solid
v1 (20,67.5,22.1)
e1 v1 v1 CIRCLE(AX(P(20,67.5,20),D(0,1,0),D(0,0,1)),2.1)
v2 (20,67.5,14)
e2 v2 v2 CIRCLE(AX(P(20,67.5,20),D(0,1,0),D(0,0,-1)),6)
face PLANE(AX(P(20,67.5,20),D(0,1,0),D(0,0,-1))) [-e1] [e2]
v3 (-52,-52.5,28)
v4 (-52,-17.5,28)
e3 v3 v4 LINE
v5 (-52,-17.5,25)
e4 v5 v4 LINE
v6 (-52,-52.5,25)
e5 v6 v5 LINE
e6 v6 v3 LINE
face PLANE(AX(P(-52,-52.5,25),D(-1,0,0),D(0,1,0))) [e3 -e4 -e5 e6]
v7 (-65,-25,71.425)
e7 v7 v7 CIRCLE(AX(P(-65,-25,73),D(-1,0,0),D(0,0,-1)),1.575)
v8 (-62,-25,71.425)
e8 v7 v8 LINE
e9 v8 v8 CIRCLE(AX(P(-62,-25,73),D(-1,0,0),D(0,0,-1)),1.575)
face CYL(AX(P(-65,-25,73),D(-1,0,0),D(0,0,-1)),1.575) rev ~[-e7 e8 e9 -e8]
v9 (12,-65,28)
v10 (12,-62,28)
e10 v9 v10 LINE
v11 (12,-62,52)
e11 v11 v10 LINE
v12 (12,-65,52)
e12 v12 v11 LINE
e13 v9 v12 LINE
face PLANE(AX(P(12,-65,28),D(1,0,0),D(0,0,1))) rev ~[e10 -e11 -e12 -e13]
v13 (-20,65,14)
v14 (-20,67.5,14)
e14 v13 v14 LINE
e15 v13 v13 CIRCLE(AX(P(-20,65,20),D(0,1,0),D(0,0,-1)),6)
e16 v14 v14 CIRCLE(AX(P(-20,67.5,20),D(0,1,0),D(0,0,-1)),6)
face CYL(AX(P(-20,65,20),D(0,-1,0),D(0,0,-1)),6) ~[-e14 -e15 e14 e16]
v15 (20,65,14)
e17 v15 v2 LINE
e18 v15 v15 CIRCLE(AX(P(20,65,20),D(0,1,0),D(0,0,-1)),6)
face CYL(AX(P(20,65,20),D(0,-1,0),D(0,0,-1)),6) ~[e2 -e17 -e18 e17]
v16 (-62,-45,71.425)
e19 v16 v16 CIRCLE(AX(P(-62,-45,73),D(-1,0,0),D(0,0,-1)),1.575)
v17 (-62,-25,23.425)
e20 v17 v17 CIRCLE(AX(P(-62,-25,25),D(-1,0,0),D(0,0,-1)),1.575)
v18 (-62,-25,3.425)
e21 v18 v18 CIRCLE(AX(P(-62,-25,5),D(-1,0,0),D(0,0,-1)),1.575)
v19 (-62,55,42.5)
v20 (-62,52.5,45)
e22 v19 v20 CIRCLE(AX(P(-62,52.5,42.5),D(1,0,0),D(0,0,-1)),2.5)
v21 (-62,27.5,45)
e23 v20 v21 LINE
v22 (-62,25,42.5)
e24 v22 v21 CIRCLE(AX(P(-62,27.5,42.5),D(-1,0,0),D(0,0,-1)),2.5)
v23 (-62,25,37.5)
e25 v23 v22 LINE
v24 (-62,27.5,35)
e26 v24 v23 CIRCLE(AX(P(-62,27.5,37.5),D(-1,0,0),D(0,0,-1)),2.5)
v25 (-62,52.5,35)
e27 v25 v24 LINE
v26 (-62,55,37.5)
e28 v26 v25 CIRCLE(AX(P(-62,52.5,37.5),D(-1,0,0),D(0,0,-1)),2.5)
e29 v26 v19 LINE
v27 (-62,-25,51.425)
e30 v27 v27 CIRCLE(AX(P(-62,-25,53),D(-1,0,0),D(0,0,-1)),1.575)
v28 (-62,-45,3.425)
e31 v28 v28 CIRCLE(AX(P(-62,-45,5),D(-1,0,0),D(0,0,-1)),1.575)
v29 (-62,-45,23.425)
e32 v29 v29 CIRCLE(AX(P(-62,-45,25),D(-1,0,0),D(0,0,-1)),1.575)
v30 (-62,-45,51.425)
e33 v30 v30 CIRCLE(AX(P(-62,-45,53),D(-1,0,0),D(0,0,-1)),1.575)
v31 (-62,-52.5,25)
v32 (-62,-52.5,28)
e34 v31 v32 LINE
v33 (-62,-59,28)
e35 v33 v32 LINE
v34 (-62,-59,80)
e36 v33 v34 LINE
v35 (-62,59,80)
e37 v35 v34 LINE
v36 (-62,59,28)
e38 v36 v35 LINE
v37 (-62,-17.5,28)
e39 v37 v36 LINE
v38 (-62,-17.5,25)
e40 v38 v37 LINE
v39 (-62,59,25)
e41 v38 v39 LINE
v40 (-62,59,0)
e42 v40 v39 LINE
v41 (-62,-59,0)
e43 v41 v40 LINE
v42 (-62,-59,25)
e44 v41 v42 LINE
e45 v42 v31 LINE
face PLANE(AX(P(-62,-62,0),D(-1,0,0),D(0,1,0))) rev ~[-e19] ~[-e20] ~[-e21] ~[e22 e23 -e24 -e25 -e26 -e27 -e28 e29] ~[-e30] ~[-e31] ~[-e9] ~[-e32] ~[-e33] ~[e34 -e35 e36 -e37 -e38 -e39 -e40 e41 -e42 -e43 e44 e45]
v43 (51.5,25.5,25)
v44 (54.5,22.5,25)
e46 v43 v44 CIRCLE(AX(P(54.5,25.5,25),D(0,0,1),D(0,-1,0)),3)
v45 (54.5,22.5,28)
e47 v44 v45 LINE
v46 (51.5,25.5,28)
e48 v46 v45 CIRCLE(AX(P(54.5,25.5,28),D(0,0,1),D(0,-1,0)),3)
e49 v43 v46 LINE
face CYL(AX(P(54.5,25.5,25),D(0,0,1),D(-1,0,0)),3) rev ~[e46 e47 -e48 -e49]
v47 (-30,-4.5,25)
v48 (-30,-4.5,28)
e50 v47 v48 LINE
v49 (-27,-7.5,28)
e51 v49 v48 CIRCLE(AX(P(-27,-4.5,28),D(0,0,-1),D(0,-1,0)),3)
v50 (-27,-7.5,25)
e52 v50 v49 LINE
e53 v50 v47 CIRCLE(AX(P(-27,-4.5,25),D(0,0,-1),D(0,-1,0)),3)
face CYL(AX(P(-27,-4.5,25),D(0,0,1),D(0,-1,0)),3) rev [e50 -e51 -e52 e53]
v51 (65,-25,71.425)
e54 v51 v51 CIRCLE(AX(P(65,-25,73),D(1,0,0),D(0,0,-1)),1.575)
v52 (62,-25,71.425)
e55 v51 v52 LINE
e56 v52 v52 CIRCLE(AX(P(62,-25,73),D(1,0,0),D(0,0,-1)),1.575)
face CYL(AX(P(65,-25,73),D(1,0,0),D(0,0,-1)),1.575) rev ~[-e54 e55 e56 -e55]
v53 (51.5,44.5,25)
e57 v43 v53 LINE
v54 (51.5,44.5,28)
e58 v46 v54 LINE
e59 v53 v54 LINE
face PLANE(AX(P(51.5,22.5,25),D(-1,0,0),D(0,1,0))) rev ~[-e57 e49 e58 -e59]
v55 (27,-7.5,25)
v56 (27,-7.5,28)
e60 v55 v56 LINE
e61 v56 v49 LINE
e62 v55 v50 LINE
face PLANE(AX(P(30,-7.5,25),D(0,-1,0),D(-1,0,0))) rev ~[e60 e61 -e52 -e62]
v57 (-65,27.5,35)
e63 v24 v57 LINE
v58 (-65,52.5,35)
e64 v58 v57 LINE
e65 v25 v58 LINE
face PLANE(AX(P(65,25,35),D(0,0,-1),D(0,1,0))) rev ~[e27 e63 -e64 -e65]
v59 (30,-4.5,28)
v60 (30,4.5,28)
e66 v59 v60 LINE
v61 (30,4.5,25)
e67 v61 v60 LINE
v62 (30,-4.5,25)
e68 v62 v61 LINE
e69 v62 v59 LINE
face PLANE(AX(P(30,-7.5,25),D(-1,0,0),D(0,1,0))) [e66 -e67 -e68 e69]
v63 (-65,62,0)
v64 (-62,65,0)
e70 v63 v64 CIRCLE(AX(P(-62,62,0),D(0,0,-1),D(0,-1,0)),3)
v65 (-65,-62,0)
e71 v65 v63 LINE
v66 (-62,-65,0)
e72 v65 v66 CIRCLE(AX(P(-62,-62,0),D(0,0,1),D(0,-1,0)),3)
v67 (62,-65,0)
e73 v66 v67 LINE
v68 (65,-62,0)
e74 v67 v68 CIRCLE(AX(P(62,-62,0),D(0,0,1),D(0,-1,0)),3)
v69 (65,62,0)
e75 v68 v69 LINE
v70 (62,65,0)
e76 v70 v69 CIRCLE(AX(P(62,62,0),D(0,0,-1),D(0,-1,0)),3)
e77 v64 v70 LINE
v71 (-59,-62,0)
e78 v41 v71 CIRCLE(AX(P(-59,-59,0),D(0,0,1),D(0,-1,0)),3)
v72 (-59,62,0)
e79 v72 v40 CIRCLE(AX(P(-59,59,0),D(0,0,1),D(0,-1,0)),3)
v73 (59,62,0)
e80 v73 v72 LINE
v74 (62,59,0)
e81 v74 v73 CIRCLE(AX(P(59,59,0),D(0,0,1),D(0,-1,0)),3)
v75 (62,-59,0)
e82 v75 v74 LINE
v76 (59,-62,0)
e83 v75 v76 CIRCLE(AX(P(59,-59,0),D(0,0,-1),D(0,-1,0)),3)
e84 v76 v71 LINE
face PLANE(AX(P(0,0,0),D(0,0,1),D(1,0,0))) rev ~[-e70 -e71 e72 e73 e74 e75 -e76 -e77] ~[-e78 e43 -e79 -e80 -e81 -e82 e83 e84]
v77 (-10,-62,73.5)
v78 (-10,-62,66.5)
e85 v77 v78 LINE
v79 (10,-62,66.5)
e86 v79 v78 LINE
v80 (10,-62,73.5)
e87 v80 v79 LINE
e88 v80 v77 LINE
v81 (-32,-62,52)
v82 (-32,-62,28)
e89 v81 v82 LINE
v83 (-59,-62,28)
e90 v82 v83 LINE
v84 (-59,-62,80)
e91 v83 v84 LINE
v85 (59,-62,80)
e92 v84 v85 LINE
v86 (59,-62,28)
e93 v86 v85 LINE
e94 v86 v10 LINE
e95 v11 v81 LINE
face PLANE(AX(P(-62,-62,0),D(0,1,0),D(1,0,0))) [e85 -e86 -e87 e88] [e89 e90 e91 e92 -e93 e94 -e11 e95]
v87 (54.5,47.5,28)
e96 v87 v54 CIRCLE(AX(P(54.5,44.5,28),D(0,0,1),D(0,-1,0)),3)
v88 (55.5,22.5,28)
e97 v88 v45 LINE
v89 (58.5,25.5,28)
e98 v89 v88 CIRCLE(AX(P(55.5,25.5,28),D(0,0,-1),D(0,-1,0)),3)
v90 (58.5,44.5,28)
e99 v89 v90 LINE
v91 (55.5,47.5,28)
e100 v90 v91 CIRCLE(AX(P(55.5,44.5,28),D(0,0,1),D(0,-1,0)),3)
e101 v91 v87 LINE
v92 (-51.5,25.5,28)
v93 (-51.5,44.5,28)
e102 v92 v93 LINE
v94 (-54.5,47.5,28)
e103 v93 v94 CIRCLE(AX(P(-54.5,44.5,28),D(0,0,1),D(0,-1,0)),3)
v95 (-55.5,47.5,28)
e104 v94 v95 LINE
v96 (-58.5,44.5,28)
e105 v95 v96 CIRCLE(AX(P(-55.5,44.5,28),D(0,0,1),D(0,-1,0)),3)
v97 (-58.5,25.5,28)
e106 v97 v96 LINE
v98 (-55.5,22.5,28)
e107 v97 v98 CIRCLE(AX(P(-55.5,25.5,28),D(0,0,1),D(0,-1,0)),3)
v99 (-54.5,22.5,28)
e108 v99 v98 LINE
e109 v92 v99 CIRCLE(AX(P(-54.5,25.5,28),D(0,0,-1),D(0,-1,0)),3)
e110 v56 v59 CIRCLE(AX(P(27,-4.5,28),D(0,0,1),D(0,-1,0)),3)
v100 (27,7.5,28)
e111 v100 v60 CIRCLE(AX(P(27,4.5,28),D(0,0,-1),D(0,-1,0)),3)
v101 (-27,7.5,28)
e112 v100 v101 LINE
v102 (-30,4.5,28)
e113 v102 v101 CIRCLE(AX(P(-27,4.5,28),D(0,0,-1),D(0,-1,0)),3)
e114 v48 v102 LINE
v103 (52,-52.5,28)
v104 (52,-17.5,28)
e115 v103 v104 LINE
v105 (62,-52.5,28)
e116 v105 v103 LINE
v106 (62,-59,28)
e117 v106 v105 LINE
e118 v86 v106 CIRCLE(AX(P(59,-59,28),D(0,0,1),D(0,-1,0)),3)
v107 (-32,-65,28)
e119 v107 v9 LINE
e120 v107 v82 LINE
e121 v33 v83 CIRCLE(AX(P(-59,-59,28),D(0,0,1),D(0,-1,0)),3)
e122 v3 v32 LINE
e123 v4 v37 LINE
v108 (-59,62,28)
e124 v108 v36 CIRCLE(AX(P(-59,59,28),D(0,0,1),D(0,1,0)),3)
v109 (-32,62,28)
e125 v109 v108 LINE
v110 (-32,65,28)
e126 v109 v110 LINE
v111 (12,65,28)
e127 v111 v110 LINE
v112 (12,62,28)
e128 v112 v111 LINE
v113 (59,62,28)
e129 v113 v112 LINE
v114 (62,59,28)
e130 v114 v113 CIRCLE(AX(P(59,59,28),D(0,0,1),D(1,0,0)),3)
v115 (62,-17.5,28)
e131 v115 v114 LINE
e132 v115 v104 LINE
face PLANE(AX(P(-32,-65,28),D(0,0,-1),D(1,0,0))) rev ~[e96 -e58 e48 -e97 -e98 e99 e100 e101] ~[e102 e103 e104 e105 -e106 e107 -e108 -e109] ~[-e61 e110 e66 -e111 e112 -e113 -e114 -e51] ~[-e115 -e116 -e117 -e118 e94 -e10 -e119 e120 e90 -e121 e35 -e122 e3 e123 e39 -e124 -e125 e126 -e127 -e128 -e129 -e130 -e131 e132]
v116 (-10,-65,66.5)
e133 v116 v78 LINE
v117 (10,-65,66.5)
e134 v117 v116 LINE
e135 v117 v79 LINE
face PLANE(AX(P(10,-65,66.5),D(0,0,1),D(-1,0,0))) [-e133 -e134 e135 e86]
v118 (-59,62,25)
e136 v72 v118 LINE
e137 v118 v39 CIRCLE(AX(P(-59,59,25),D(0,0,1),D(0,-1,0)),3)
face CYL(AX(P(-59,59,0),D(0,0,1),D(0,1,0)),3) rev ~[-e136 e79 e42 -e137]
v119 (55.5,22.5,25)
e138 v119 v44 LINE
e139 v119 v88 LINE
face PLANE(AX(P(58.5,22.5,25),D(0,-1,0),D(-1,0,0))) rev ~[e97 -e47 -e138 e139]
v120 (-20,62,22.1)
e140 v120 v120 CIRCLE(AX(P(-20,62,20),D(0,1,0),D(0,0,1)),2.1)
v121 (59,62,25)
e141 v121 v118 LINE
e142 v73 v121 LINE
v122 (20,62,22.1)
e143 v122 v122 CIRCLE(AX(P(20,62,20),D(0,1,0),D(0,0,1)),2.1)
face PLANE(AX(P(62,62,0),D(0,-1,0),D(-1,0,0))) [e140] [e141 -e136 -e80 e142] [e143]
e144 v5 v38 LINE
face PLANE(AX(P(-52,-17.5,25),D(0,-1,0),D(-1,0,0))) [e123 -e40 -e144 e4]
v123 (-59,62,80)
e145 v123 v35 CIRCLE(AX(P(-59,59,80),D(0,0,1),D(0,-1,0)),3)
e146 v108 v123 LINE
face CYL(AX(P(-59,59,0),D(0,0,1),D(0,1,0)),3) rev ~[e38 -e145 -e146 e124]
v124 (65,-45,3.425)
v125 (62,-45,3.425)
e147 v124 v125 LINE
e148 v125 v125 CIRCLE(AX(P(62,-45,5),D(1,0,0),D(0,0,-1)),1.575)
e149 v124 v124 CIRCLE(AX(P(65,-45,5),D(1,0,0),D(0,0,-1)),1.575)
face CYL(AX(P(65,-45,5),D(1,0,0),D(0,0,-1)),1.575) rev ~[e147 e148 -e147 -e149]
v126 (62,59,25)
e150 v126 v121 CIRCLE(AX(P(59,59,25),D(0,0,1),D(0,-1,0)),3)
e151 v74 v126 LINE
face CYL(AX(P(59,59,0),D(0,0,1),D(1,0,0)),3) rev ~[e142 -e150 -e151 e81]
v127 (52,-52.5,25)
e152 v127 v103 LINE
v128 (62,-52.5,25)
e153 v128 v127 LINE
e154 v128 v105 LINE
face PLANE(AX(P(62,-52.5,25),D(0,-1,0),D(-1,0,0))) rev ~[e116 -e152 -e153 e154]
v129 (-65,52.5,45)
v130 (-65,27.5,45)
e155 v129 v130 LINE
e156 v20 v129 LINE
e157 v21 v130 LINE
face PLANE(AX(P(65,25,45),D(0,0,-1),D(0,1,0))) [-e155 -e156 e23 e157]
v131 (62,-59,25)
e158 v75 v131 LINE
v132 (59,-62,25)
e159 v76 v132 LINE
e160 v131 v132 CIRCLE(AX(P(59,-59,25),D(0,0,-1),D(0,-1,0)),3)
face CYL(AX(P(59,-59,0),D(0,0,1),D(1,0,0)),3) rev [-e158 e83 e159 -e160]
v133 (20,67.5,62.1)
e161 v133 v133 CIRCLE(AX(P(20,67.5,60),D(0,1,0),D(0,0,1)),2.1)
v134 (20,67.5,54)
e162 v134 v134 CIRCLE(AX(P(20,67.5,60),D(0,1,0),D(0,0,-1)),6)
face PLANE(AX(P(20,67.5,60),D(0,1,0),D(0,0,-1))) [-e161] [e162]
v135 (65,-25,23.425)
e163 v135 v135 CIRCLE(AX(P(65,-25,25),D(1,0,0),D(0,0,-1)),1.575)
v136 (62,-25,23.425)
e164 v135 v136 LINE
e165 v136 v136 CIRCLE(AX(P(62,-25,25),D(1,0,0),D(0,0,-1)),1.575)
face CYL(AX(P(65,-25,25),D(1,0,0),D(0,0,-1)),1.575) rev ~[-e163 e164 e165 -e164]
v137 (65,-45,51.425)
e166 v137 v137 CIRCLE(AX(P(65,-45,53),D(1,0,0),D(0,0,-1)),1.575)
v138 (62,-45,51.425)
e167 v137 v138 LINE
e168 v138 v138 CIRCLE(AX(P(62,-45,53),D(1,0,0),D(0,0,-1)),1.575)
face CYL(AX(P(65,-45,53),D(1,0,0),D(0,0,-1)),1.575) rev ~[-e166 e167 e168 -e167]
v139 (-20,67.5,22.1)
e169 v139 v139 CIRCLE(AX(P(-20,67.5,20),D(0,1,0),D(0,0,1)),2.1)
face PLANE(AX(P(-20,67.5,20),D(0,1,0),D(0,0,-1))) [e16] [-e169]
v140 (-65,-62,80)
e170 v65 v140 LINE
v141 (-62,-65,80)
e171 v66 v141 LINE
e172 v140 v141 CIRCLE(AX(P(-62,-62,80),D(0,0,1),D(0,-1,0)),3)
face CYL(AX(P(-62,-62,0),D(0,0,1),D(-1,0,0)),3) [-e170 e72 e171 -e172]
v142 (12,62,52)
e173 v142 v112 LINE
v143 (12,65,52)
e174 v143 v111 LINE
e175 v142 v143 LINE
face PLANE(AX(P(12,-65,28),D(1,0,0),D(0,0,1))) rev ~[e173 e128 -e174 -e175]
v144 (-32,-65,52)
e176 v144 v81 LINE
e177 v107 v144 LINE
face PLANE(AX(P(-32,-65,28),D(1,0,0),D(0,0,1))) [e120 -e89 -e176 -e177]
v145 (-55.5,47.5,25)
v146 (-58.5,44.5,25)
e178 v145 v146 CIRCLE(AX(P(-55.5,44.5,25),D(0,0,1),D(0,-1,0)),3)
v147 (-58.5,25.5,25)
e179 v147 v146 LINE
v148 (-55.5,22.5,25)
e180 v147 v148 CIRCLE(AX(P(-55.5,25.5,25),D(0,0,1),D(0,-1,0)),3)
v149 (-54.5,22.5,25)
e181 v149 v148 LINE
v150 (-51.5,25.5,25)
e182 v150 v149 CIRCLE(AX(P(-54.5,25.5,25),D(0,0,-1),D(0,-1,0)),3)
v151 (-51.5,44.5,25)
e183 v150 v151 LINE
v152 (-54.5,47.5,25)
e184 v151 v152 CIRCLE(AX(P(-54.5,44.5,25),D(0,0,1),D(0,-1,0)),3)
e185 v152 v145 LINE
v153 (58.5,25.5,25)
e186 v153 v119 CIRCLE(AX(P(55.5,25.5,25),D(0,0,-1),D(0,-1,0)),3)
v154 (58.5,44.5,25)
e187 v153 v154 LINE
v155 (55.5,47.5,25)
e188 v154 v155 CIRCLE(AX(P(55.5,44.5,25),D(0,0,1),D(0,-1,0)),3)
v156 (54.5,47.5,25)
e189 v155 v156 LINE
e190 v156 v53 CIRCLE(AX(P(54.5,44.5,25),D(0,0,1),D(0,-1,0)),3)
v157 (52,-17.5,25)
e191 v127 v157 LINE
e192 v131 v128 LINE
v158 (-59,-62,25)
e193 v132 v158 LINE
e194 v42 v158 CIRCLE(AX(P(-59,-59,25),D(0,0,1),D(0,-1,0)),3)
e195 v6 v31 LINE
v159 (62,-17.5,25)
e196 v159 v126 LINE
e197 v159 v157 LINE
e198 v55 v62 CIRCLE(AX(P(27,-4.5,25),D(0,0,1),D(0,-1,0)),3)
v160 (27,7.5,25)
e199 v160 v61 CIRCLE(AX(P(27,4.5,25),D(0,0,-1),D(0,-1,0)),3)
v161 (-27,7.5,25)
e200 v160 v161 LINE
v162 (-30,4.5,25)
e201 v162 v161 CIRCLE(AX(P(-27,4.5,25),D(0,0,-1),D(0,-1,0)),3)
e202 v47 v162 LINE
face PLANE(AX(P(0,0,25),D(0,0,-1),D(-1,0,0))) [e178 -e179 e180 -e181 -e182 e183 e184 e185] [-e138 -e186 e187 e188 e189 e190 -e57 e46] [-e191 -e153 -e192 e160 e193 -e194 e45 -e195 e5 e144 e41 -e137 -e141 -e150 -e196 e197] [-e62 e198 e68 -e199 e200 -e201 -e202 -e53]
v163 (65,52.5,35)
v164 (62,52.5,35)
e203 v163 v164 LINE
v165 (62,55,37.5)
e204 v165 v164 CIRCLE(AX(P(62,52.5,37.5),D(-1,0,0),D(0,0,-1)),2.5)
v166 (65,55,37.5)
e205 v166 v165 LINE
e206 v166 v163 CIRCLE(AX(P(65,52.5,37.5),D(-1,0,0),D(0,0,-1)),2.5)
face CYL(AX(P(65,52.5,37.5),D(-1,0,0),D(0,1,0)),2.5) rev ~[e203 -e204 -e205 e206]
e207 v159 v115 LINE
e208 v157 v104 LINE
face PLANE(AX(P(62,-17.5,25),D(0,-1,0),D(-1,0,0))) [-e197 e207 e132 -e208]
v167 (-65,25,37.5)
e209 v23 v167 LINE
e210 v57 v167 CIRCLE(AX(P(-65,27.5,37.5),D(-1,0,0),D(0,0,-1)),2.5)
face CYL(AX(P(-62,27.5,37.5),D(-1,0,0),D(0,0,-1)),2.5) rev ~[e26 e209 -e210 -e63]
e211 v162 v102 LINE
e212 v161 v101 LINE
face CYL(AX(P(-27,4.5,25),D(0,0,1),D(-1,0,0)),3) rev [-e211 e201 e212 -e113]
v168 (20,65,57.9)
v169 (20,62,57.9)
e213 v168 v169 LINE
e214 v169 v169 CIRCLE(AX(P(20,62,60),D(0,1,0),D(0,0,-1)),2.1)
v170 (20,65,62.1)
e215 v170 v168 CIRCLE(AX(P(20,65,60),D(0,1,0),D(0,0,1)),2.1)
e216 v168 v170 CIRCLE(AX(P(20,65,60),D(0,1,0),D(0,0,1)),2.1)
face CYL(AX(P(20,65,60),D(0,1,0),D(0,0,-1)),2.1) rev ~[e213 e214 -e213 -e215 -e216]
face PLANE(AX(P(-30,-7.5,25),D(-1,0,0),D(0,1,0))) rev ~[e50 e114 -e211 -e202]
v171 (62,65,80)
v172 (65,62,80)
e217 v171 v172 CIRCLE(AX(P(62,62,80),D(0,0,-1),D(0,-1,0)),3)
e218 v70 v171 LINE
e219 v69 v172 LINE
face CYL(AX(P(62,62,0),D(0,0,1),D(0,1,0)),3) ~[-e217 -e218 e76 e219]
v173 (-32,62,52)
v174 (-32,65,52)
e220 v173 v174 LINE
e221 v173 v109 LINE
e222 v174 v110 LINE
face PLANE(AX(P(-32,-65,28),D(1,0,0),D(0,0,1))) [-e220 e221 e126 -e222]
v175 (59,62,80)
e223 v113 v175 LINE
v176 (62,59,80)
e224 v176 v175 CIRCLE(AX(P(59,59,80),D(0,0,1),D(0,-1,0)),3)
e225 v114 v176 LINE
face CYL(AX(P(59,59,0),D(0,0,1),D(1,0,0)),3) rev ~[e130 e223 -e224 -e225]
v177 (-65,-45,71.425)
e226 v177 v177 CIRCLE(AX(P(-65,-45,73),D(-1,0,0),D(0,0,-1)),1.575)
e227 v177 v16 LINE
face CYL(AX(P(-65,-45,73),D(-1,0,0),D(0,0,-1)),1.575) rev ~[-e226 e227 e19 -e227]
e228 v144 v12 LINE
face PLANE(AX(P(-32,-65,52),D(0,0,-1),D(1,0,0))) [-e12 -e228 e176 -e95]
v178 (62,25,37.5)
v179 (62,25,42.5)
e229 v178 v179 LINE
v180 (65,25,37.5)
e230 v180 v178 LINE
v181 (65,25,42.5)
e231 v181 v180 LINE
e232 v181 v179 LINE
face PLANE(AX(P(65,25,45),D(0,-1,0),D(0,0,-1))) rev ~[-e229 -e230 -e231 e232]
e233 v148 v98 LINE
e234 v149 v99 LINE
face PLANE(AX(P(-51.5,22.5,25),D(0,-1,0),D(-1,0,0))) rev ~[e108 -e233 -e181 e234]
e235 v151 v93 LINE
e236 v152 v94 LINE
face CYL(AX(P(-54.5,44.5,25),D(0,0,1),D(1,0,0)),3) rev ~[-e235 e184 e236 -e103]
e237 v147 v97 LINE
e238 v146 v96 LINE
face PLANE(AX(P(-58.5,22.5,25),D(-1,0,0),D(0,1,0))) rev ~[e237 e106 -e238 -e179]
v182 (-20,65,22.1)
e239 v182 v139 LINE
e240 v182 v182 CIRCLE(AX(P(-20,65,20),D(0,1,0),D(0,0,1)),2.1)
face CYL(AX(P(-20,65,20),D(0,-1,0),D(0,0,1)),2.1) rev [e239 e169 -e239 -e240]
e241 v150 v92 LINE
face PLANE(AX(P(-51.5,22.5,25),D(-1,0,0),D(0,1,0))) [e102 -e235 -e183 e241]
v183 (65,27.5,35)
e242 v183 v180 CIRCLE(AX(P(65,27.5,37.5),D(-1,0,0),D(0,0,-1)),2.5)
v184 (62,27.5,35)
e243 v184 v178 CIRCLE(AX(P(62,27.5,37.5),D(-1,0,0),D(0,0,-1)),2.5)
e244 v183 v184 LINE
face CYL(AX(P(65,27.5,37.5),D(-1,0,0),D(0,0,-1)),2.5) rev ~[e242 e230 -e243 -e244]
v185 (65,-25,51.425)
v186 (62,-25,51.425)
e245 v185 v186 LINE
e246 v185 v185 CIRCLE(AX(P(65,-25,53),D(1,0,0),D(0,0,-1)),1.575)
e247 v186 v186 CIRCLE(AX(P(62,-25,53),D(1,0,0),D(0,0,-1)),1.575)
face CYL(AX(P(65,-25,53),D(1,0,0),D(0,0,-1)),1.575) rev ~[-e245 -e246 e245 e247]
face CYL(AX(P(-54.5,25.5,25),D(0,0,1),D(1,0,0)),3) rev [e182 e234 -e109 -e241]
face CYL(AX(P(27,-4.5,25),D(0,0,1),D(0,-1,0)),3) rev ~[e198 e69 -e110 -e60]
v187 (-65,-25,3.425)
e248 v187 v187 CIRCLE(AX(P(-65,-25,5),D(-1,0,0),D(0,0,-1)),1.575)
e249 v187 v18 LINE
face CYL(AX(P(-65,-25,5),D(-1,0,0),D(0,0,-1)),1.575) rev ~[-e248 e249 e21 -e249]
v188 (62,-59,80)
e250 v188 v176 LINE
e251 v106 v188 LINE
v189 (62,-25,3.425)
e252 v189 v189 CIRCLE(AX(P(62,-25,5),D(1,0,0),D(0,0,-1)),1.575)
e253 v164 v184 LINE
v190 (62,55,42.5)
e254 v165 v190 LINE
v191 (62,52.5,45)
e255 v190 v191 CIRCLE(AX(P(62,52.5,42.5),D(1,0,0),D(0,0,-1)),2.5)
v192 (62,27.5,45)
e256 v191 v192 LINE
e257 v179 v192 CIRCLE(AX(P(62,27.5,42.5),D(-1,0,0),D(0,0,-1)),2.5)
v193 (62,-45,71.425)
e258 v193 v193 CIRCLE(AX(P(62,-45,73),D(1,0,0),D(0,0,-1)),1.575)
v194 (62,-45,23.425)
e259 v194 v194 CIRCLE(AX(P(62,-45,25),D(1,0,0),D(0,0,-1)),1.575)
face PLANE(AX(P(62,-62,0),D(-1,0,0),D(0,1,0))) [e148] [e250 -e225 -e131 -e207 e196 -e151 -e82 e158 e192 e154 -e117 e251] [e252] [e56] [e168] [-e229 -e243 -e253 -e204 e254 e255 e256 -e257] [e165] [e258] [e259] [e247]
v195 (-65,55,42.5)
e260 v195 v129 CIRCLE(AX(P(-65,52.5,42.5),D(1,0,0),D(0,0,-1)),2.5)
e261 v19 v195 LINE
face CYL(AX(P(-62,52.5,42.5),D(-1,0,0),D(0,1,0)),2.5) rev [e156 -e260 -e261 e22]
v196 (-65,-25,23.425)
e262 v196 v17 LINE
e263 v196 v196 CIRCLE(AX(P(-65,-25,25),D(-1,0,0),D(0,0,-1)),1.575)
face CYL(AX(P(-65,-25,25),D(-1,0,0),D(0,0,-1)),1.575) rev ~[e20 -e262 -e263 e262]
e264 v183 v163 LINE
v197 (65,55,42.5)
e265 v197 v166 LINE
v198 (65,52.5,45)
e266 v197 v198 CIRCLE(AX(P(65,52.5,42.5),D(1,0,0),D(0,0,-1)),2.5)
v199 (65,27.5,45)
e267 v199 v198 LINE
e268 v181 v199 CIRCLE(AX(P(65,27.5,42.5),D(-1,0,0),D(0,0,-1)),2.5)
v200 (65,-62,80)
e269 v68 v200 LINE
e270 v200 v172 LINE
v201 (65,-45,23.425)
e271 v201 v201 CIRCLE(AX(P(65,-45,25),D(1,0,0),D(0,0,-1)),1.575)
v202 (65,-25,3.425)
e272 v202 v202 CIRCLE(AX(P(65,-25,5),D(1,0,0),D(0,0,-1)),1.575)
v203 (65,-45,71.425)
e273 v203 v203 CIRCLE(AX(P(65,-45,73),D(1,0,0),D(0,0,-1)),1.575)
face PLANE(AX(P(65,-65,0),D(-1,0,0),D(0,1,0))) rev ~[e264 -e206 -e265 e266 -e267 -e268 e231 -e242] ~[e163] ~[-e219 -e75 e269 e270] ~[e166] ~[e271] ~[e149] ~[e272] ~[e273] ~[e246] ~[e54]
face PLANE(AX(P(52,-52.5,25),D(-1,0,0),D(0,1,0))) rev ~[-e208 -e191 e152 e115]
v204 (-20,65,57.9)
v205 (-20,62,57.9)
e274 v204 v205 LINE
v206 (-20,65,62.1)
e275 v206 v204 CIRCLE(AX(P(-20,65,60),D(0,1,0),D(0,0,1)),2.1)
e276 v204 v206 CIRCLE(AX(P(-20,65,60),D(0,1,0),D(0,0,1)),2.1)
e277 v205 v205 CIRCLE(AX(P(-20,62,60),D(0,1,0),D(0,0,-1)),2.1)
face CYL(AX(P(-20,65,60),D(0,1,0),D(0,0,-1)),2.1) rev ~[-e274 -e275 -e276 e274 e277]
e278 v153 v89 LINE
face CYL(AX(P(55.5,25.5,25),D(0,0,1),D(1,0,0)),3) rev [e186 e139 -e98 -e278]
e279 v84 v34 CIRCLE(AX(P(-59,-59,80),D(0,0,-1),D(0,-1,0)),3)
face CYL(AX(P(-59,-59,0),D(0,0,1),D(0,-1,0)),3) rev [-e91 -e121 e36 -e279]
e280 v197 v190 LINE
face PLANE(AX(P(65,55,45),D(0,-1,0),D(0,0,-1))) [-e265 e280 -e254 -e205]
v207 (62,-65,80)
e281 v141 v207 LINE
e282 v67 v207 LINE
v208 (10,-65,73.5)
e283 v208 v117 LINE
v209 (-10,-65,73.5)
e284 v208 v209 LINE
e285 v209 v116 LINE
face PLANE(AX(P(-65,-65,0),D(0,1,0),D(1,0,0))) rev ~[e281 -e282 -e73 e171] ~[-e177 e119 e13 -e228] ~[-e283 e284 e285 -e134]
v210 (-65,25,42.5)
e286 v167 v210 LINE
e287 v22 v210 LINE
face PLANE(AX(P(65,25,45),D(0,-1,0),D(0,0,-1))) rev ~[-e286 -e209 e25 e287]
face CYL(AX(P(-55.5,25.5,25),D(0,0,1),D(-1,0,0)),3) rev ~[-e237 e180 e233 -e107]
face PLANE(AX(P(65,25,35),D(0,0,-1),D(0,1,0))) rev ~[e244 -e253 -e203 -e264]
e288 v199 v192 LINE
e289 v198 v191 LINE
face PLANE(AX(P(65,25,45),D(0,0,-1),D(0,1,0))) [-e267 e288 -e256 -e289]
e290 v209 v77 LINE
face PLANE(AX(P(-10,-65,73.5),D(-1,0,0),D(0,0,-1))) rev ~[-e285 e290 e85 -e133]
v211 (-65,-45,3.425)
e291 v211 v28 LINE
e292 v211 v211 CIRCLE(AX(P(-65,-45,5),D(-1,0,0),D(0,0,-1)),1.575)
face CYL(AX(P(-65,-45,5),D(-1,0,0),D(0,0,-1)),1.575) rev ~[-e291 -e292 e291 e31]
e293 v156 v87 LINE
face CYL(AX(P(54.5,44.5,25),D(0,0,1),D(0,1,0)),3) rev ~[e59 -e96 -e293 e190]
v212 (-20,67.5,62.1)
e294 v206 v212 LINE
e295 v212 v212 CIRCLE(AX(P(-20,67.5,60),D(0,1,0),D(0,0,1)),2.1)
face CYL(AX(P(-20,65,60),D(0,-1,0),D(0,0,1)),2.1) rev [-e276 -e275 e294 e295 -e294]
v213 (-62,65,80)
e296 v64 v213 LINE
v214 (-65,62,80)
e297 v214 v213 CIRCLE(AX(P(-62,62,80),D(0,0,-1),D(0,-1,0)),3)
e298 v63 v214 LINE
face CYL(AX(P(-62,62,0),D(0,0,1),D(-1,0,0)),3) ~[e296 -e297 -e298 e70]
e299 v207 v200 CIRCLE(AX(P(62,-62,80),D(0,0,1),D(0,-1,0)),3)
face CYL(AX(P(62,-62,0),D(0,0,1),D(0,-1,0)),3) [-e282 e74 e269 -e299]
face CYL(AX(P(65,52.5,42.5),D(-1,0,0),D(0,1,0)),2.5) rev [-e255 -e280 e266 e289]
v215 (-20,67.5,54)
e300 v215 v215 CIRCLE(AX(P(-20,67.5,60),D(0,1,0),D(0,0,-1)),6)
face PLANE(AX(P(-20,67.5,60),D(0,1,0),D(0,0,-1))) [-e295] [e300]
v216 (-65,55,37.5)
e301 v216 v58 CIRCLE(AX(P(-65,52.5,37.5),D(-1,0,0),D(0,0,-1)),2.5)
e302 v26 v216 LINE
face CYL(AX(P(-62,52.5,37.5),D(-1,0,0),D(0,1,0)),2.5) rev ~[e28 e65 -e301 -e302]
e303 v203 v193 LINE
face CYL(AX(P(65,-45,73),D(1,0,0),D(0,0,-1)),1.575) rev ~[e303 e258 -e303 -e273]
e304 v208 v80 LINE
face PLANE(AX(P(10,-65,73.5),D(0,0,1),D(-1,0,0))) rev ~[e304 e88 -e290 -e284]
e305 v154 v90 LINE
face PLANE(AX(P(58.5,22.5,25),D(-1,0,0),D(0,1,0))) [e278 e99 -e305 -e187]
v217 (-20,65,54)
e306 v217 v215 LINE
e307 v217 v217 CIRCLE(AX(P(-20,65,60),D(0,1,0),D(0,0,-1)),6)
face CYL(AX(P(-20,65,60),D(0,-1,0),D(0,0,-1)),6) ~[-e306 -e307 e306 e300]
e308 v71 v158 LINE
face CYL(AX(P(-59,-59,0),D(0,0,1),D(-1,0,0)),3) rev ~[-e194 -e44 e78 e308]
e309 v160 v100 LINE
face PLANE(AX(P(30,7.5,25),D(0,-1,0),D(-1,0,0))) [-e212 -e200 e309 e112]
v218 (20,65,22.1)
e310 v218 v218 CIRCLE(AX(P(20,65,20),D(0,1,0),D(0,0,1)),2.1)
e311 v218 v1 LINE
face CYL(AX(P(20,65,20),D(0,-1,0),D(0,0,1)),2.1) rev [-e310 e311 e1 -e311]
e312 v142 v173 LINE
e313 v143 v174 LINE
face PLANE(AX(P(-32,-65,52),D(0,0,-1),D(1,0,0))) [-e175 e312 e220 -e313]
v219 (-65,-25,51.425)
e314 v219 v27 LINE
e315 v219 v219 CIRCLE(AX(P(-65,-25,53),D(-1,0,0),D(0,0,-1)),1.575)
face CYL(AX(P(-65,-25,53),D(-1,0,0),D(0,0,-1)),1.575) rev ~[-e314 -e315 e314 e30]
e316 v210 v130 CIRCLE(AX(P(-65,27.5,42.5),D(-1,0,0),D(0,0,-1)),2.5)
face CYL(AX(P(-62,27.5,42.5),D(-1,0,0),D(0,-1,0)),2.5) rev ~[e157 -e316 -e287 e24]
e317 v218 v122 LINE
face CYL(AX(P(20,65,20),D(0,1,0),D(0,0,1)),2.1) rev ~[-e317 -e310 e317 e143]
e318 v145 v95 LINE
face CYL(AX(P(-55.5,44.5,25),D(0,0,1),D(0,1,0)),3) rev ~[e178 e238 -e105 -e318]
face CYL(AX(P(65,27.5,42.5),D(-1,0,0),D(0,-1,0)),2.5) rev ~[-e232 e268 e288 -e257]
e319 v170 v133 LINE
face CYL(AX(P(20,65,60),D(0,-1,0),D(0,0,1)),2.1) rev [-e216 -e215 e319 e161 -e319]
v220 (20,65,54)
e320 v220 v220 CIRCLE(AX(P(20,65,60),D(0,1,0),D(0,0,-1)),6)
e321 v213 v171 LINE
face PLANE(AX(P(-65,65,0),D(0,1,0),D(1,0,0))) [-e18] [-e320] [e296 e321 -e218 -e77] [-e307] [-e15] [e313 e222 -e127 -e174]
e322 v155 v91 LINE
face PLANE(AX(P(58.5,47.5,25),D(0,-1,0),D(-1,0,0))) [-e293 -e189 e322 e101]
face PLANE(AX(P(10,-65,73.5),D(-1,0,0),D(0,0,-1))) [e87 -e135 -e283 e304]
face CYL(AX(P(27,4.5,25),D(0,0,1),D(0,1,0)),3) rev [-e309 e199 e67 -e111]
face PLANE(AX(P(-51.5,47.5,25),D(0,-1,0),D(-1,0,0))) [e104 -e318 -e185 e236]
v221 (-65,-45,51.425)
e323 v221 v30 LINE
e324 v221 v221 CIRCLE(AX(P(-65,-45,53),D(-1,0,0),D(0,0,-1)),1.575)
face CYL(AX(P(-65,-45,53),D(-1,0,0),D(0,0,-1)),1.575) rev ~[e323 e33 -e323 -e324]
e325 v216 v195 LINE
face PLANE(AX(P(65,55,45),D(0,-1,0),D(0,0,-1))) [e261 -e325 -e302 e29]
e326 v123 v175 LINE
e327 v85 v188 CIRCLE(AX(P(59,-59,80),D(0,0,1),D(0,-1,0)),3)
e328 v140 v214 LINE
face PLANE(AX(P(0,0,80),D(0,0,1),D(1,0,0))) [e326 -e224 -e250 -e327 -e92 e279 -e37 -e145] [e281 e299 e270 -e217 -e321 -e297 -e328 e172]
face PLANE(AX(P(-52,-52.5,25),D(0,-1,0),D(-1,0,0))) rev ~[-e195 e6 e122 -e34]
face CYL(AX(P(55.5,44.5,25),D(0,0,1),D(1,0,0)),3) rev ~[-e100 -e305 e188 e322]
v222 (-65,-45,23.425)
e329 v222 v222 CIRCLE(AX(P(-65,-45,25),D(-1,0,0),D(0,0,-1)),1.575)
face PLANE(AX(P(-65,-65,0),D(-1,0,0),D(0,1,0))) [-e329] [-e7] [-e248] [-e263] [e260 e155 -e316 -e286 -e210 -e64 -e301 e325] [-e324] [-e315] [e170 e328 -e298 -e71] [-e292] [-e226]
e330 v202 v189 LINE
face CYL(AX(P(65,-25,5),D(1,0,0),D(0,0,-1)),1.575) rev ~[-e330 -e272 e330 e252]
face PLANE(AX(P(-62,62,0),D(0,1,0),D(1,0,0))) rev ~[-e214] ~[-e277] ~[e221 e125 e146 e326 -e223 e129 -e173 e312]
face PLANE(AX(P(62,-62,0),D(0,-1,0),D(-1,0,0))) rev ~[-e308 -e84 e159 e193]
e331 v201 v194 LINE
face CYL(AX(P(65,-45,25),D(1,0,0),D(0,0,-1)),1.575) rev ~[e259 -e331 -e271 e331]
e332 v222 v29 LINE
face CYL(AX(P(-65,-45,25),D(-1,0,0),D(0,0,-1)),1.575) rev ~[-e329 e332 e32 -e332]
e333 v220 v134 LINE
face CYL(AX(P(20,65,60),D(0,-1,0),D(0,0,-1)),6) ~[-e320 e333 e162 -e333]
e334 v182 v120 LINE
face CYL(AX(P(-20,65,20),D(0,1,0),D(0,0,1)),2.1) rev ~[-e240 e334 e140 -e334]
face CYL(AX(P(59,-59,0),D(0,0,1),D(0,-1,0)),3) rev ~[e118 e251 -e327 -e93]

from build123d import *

# Parameters (mm, degrees)
SKETCH1_W           = 130
SKETCH1_H           = 130
SKETCH1_W_2         = 124
SKETCH1_H_2         = 124
BOSS_EXTRUDE1_DEPTH = 80
FILLET1_R           = 3
FILLET2_R           = 3
SKETCH2_W           = 44
SKETCH2_H           = 24
CUT_EXTRUDE1_DEPTH  = 166.90660023
SKETCH4_W           = 124
SKETCH4_H           = 124
BOSS_EXTRUDE4_DEPTH = 28
SKETCH3_W           = 124
SKETCH3_H           = 124
CUT_EXTRUDE2_DEPTH  = 25
FILLET3_R           = 3
SKETCH5_W           = 60
SKETCH5_H           = 15
CUT_EXTRUDE3_DEPTH  = 25
FILLET4_R           = 3
SKETCH7_W           = 10
SKETCH7_H           = 35
SKETCH7_W_2         = 7
SKETCH7_H_2         = 25
CUT_EXTRUDE4_DEPTH  = 108.121426428
FILLET6_R           = 3
CUT_EXTRUDE8_REACH  = 167.907
SKETCH8_R           = 1.575
CUT_EXTRUDE9_REACH  = 167.907
SKETCH10_R          = 1.575
SKETCH11_R          = 6
SKETCH11_R_2        = 2.1
BOSS_EXTRUDE5_DEPTH = 2.5
CUT_EXTRUDE11_REACH = 167.907
SKETCH13_R          = 2.1
SKETCH14_W          = 10
SKETCH14_H          = 30
CUT_EXTRUDE12_DEPTH = 167.901917305
FILLET7_R           = 2.5
FILLET8_R           = 2.5
CUT_EXTRUDE13_REACH = 169.873
SKETCH15_W          = 20
SKETCH15_H          = 7


with BuildPart() as part:
    # Sketch1 → Boss-Extrude1 (new body)
    with BuildSketch(Plane.XY):
        Rectangle(SKETCH1_W, SKETCH1_H)
        Rectangle(SKETCH1_W_2, SKETCH1_H_2, mode=Mode.SUBTRACT)
    extrude(amount=BOSS_EXTRUDE1_DEPTH)

    # Fillet1
    fillet1_edges = [part.edges().sort_by_distance(p)[0] for p in [
        (65, -65, 40),
        (-65, -65, 40),
        (-65, 65, 40),
        (65, 65, 40),
    ]]
    fillet(fillet1_edges, radius=FILLET1_R)

    # Fillet2
    fillet2_edges = [part.edges().sort_by_distance(p)[0] for p in [
        (62, -62, 40),
        (62, 62, 40),
        (-62, 62, 40),
        (-62, -62, 40),
    ]]
    fillet(fillet2_edges, radius=FILLET2_R)

    # Sketch2 → Cut-Extrude1 (cut, through all)
    with BuildSketch(Plane.XZ.offset(65)):
        with Locations((-10, 40)):
            Rectangle(SKETCH2_W, SKETCH2_H)
    extrude(amount=-CUT_EXTRUDE1_DEPTH, mode=Mode.SUBTRACT)

    # Sketch4 → Boss-Extrude4 (add)
    with BuildSketch(Plane(origin=(0, 0, 0), x_dir=(-1, 0, 0), z_dir=(0, 0, -1))):
        Rectangle(SKETCH4_W, SKETCH4_H)
    extrude(amount=-BOSS_EXTRUDE4_DEPTH)

    # Sketch3 → Cut-Extrude2 (cut)
    with BuildSketch(Plane(origin=(0, 0, 0), x_dir=(-1, 0, 0), z_dir=(0, 0, -1))):
        Rectangle(SKETCH3_W, SKETCH3_H)
    extrude(amount=-CUT_EXTRUDE2_DEPTH, mode=Mode.SUBTRACT)

    # Fillet3
    fillet3_edges = [part.edges().sort_by_distance(p)[0] for p in [
        (-62, 62, 12.5),
        (-62, -62, 12.5),
        (62, -62, 12.5),
        (62, 62, 12.5),
    ]]
    fillet(fillet3_edges, radius=FILLET3_R)

    # Sketch5 → Cut-Extrude3 (cut)
    with BuildSketch(Plane(origin=(0, 0, 25), x_dir=(-1, 0, 0), z_dir=(0, 0, -1))):
        Rectangle(SKETCH5_W, SKETCH5_H)
    extrude(amount=-CUT_EXTRUDE3_DEPTH, mode=Mode.SUBTRACT)

    # Fillet4
    fillet4_edges = [part.edges().sort_by_distance(p)[0] for p in [
        (-30, 7.5, 26.5),
        (-30, -7.5, 26.5),
        (30, -7.5, 26.5),
        (30, 7.5, 26.5),
    ]]
    fillet(fillet4_edges, radius=FILLET4_R)

    # Sketch7 → Cut-Extrude4 (cut, through all)
    with BuildSketch(Plane(origin=(0, 0, 25), x_dir=(-1, 0, 0), z_dir=(0, 0, -1))):
        with Locations((-57, -35)):
            Rectangle(SKETCH7_W, SKETCH7_H)
        with Locations((57, -35)):
            Rectangle(SKETCH7_W, SKETCH7_H)
        with Locations((55, 35)):
            Rectangle(SKETCH7_W_2, SKETCH7_H_2)
        with Locations((-55, 35)):
            Rectangle(SKETCH7_W_2, SKETCH7_H_2)
    extrude(amount=-CUT_EXTRUDE4_DEPTH, mode=Mode.SUBTRACT)

    # Fillet6
    fillet6_edges = [part.edges().sort_by_distance(p)[0] for p in [
        (-58.5, 47.5, 26.5),
        (-58.5, 22.5, 26.5),
        (-51.5, 22.5, 26.5),
        (-51.5, 47.5, 26.5),
        (51.5, 47.5, 26.5),
        (51.5, 22.5, 26.5),
        (58.5, 22.5, 26.5),
        (58.5, 47.5, 26.5),
    ]]
    fillet(fillet6_edges, radius=FILLET6_R)

    # Sketch8 → Cut-Extrude8 (cut, up to next)
    with BuildSketch(Plane(origin=(65, 0, 0), x_dir=(0, 0, -1), z_dir=(1, 0, 0)), mode=Mode.PRIVATE) as cut_extrude8_sk1:
        with Locations((-5, -25)):
            Circle(SKETCH8_R)
    cut_extrude8_tool1 = extrude(cut_extrude8_sk1.sketch, amount=-CUT_EXTRUDE8_REACH, mode=Mode.PRIVATE) & part.part
    # Sketch8 → Cut-Extrude8 (cut, up to next)
    with BuildSketch(Plane(origin=(65, 0, 0), x_dir=(0, 0, -1), z_dir=(1, 0, 0)), mode=Mode.PRIVATE) as cut_extrude8_sk2:
        with Locations((-5, -45)):
            Circle(SKETCH8_R)
    cut_extrude8_tool2 = extrude(cut_extrude8_sk2.sketch, amount=-CUT_EXTRUDE8_REACH, mode=Mode.PRIVATE) & part.part
    # Sketch8 → Cut-Extrude8 (cut, up to next)
    with BuildSketch(Plane(origin=(65, 0, 0), x_dir=(0, 0, -1), z_dir=(1, 0, 0)), mode=Mode.PRIVATE) as cut_extrude8_sk3:
        with Locations((-25, -25)):
            Circle(SKETCH8_R)
    cut_extrude8_tool3 = extrude(cut_extrude8_sk3.sketch, amount=-CUT_EXTRUDE8_REACH, mode=Mode.PRIVATE) & part.part
    # Sketch8 → Cut-Extrude8 (cut, up to next)
    with BuildSketch(Plane(origin=(65, 0, 0), x_dir=(0, 0, -1), z_dir=(1, 0, 0)), mode=Mode.PRIVATE) as cut_extrude8_sk4:
        with Locations((-25, -45)):
            Circle(SKETCH8_R)
    cut_extrude8_tool4 = extrude(cut_extrude8_sk4.sketch, amount=-CUT_EXTRUDE8_REACH, mode=Mode.PRIVATE) & part.part
    # Sketch8 → Cut-Extrude8 (cut, up to next)
    with BuildSketch(Plane(origin=(65, 0, 0), x_dir=(0, 0, -1), z_dir=(1, 0, 0)), mode=Mode.PRIVATE) as cut_extrude8_sk5:
        with Locations((-53, -25)):
            Circle(SKETCH8_R)
    cut_extrude8_tool5 = extrude(cut_extrude8_sk5.sketch, amount=-CUT_EXTRUDE8_REACH, mode=Mode.PRIVATE) & part.part
    # Sketch8 → Cut-Extrude8 (cut, up to next)
    with BuildSketch(Plane(origin=(65, 0, 0), x_dir=(0, 0, -1), z_dir=(1, 0, 0)), mode=Mode.PRIVATE) as cut_extrude8_sk6:
        with Locations((-53, -45)):
            Circle(SKETCH8_R)
    cut_extrude8_tool6 = extrude(cut_extrude8_sk6.sketch, amount=-CUT_EXTRUDE8_REACH, mode=Mode.PRIVATE) & part.part
    # Sketch8 → Cut-Extrude8 (cut, up to next)
    with BuildSketch(Plane(origin=(65, 0, 0), x_dir=(0, 0, -1), z_dir=(1, 0, 0)), mode=Mode.PRIVATE) as cut_extrude8_sk7:
        with Locations((-73, -25)):
            Circle(SKETCH8_R)
    cut_extrude8_tool7 = extrude(cut_extrude8_sk7.sketch, amount=-CUT_EXTRUDE8_REACH, mode=Mode.PRIVATE) & part.part
    # Sketch8 → Cut-Extrude8 (cut, up to next)
    with BuildSketch(Plane(origin=(65, 0, 0), x_dir=(0, 0, -1), z_dir=(1, 0, 0)), mode=Mode.PRIVATE) as cut_extrude8_sk8:
        with Locations((-73, -45)):
            Circle(SKETCH8_R)
    cut_extrude8_tool8 = extrude(cut_extrude8_sk8.sketch, amount=-CUT_EXTRUDE8_REACH, mode=Mode.PRIVATE) & part.part
    add(cut_extrude8_tool1.solids().sort_by_distance((65, -25, 5))[0], mode=Mode.SUBTRACT)
    add(cut_extrude8_tool2.solids().sort_by_distance((65, -45, 5))[0], mode=Mode.SUBTRACT)
    add(cut_extrude8_tool3.solids().sort_by_distance((65, -25, 25))[0], mode=Mode.SUBTRACT)
    add(cut_extrude8_tool4.solids().sort_by_distance((65, -45, 25))[0], mode=Mode.SUBTRACT)
    add(cut_extrude8_tool5.solids().sort_by_distance((65, -25, 53))[0], mode=Mode.SUBTRACT)
    add(cut_extrude8_tool6.solids().sort_by_distance((65, -45, 53))[0], mode=Mode.SUBTRACT)
    add(cut_extrude8_tool7.solids().sort_by_distance((65, -25, 73))[0], mode=Mode.SUBTRACT)
    add(cut_extrude8_tool8.solids().sort_by_distance((65, -45, 73))[0], mode=Mode.SUBTRACT)

    # Sketch10 → Cut-Extrude9 (cut, up to next)
    with BuildSketch(Plane.ZY.offset(65), mode=Mode.PRIVATE) as cut_extrude9_sk1:
        with Locations(Location((73, -25, 0), (0, 0, 180))):
            Circle(SKETCH10_R)
    cut_extrude9_tool1 = extrude(cut_extrude9_sk1.sketch, amount=-CUT_EXTRUDE9_REACH, mode=Mode.PRIVATE) & part.part
    # Sketch10 → Cut-Extrude9 (cut, up to next)
    with BuildSketch(Plane.ZY.offset(65), mode=Mode.PRIVATE) as cut_extrude9_sk2:
        with Locations(Location((73, -45, 0), (0, 0, 180))):
            Circle(SKETCH10_R)
    cut_extrude9_tool2 = extrude(cut_extrude9_sk2.sketch, amount=-CUT_EXTRUDE9_REACH, mode=Mode.PRIVATE) & part.part
    # Sketch10 → Cut-Extrude9 (cut, up to next)
    with BuildSketch(Plane.ZY.offset(65), mode=Mode.PRIVATE) as cut_extrude9_sk3:
        with Locations(Location((53, -25, 0), (0, 0, 180))):
            Circle(SKETCH10_R)
    cut_extrude9_tool3 = extrude(cut_extrude9_sk3.sketch, amount=-CUT_EXTRUDE9_REACH, mode=Mode.PRIVATE) & part.part
    # Sketch10 → Cut-Extrude9 (cut, up to next)
    with BuildSketch(Plane.ZY.offset(65), mode=Mode.PRIVATE) as cut_extrude9_sk4:
        with Locations(Location((53, -45, 0), (0, 0, 180))):
            Circle(SKETCH10_R)
    cut_extrude9_tool4 = extrude(cut_extrude9_sk4.sketch, amount=-CUT_EXTRUDE9_REACH, mode=Mode.PRIVATE) & part.part
    # Sketch10 → Cut-Extrude9 (cut, up to next)
    with BuildSketch(Plane.ZY.offset(65), mode=Mode.PRIVATE) as cut_extrude9_sk5:
        with Locations(Location((25, -25, 0), (0, 0, 180))):
            Circle(SKETCH10_R)
    cut_extrude9_tool5 = extrude(cut_extrude9_sk5.sketch, amount=-CUT_EXTRUDE9_REACH, mode=Mode.PRIVATE) & part.part
    # Sketch10 → Cut-Extrude9 (cut, up to next)
    with BuildSketch(Plane.ZY.offset(65), mode=Mode.PRIVATE) as cut_extrude9_sk6:
        with Locations(Location((25, -45, 0), (0, 0, 180))):
            Circle(SKETCH10_R)
    cut_extrude9_tool6 = extrude(cut_extrude9_sk6.sketch, amount=-CUT_EXTRUDE9_REACH, mode=Mode.PRIVATE) & part.part
    # Sketch10 → Cut-Extrude9 (cut, up to next)
    with BuildSketch(Plane.ZY.offset(65), mode=Mode.PRIVATE) as cut_extrude9_sk7:
        with Locations(Location((5, -25, 0), (0, 0, 180))):
            Circle(SKETCH10_R)
    cut_extrude9_tool7 = extrude(cut_extrude9_sk7.sketch, amount=-CUT_EXTRUDE9_REACH, mode=Mode.PRIVATE) & part.part
    # Sketch10 → Cut-Extrude9 (cut, up to next)
    with BuildSketch(Plane.ZY.offset(65), mode=Mode.PRIVATE) as cut_extrude9_sk8:
        with Locations(Location((5, -45, 0), (0, 0, 180))):
            Circle(SKETCH10_R)
    cut_extrude9_tool8 = extrude(cut_extrude9_sk8.sketch, amount=-CUT_EXTRUDE9_REACH, mode=Mode.PRIVATE) & part.part
    add(cut_extrude9_tool1.solids().sort_by_distance((-65, -25, 73))[0], mode=Mode.SUBTRACT)
    add(cut_extrude9_tool2.solids().sort_by_distance((-65, -45, 73))[0], mode=Mode.SUBTRACT)
    add(cut_extrude9_tool3.solids().sort_by_distance((-65, -25, 53))[0], mode=Mode.SUBTRACT)
    add(cut_extrude9_tool4.solids().sort_by_distance((-65, -45, 53))[0], mode=Mode.SUBTRACT)
    add(cut_extrude9_tool5.solids().sort_by_distance((-65, -25, 25))[0], mode=Mode.SUBTRACT)
    add(cut_extrude9_tool6.solids().sort_by_distance((-65, -45, 25))[0], mode=Mode.SUBTRACT)
    add(cut_extrude9_tool7.solids().sort_by_distance((-65, -25, 5))[0], mode=Mode.SUBTRACT)
    add(cut_extrude9_tool8.solids().sort_by_distance((-65, -45, 5))[0], mode=Mode.SUBTRACT)

    # Sketch11 → Boss-Extrude5 (add)
    # profile 1 of 4: a face of its own
    with BuildSketch(Plane(origin=(0, 65, 0), x_dir=(1, 0, 0), z_dir=(0, 1, 0))):
        with Locations(Location((-20, -20, 0), (0, 0, 90))):
            Circle(SKETCH11_R)
        with Locations(Location((-20, -20, 0), (0, 0, 270))):
            Circle(SKETCH11_R_2, mode=Mode.SUBTRACT)
    # profile 2 of 4: a face of its own
    with BuildSketch(Plane(origin=(0, 65, 0), x_dir=(1, 0, 0), z_dir=(0, 1, 0))):
        with Locations(Location((20, -20, 0), (0, 0, 90))):
            Circle(SKETCH11_R)
        with Locations(Location((20, -20, 0), (0, 0, 270))):
            Circle(SKETCH11_R_2, mode=Mode.SUBTRACT)
    # profile 3 of 4: a face of its own
    with BuildSketch(Plane(origin=(0, 65, 0), x_dir=(1, 0, 0), z_dir=(0, 1, 0))):
        with Locations(Location((20, -60, 0), (0, 0, 90))):
            Circle(SKETCH11_R)
        with Locations(Location((20, -60, 0), (0, 0, 270))):
            Circle(SKETCH11_R_2, mode=Mode.SUBTRACT)
    # profile 4 of 4: a face of its own
    with BuildSketch(Plane(origin=(0, 65, 0), x_dir=(1, 0, 0), z_dir=(0, 1, 0))):
        with Locations(Location((-20, -60, 0), (0, 0, 90))):
            Circle(SKETCH11_R)
        with Locations(Location((-20, -60, 0), (0, 0, 270))):
            Circle(SKETCH11_R_2, mode=Mode.SUBTRACT)
    extrude(amount=BOSS_EXTRUDE5_DEPTH)

    # Sketch13 → Cut-Extrude11 (cut, up to next)
    with BuildSketch(Plane(origin=(0, 65, 0), x_dir=(1, 0, 0), z_dir=(0, 1, 0)), mode=Mode.PRIVATE) as cut_extrude11_sk1:
        with Locations(Location((-20, -20, 0), (0, 0, 270))):
            Circle(SKETCH13_R)
    cut_extrude11_tool1 = extrude(cut_extrude11_sk1.sketch, amount=-CUT_EXTRUDE11_REACH, mode=Mode.PRIVATE) & part.part
    # Sketch13 → Cut-Extrude11 (cut, up to next)
    with BuildSketch(Plane(origin=(0, 65, 0), x_dir=(1, 0, 0), z_dir=(0, 1, 0)), mode=Mode.PRIVATE) as cut_extrude11_sk2:
        with Locations(Location((20, -20, 0), (0, 0, 270))):
            Circle(SKETCH13_R)
    cut_extrude11_tool2 = extrude(cut_extrude11_sk2.sketch, amount=-CUT_EXTRUDE11_REACH, mode=Mode.PRIVATE) & part.part
    # Sketch13 → Cut-Extrude11 (cut, up to next)
    with BuildSketch(Plane(origin=(0, 65, 0), x_dir=(1, 0, 0), z_dir=(0, 1, 0)), mode=Mode.PRIVATE) as cut_extrude11_sk3:
        with Locations(Location((20, -60, 0), (0, 0, 90))):
            Circle(SKETCH13_R)
    cut_extrude11_tool3 = extrude(cut_extrude11_sk3.sketch, amount=-CUT_EXTRUDE11_REACH, mode=Mode.PRIVATE) & part.part
    # Sketch13 → Cut-Extrude11 (cut, up to next)
    with BuildSketch(Plane(origin=(0, 65, 0), x_dir=(1, 0, 0), z_dir=(0, 1, 0)), mode=Mode.PRIVATE) as cut_extrude11_sk4:
        with Locations(Location((-20, -60, 0), (0, 0, 90))):
            Circle(SKETCH13_R)
    cut_extrude11_tool4 = extrude(cut_extrude11_sk4.sketch, amount=-CUT_EXTRUDE11_REACH, mode=Mode.PRIVATE) & part.part
    add(cut_extrude11_tool1.solids().sort_by_distance((-20, 65, 20))[0], mode=Mode.SUBTRACT)
    add(cut_extrude11_tool2.solids().sort_by_distance((20, 65, 20))[0], mode=Mode.SUBTRACT)
    add(cut_extrude11_tool3.solids().sort_by_distance((20, 65, 60))[0], mode=Mode.SUBTRACT)
    add(cut_extrude11_tool4.solids().sort_by_distance((-20, 65, 60))[0], mode=Mode.SUBTRACT)

    # Sketch14 → Cut-Extrude12 (cut, through all)
    with BuildSketch(Plane(origin=(65, 0, 0), x_dir=(0, 0, -1), z_dir=(1, 0, 0))):
        with Locations((-40, 40)):
            Rectangle(SKETCH14_W, SKETCH14_H)
    extrude(amount=-CUT_EXTRUDE12_DEPTH, mode=Mode.SUBTRACT)

    # Fillet7
    fillet7_edges = [part.edges().sort_by_distance(p)[0] for p in [
        (63.5, 55, 35),
        (63.5, 25, 35),
        (63.5, 25, 45),
        (63.5, 55, 45),
    ]]
    fillet(fillet7_edges, radius=FILLET7_R)

    # Fillet8
    fillet8_edges = [part.edges().sort_by_distance(p)[0] for p in [
        (-63.5, 55, 35),
        (-63.5, 25, 35),
        (-63.5, 25, 45),
        (-63.5, 55, 45),
    ]]
    fillet(fillet8_edges, radius=FILLET8_R)

    # Sketch15 → Cut-Extrude13 (cut, up to next)
    with BuildSketch(Plane(origin=(0, -65, 0), x_dir=(-1, 0, 0), z_dir=(0, -1, 0)), mode=Mode.PRIVATE) as cut_extrude13_sk1:
        with Locations((0, -70)):
            Rectangle(SKETCH15_W, SKETCH15_H)
    cut_extrude13_tool1 = extrude(cut_extrude13_sk1.sketch, amount=-CUT_EXTRUDE13_REACH, mode=Mode.PRIVATE) & part.part
    add(cut_extrude13_tool1.solids().sort_by_distance((0, -65, 70))[0], mode=Mode.SUBTRACT)


solid = part.part
